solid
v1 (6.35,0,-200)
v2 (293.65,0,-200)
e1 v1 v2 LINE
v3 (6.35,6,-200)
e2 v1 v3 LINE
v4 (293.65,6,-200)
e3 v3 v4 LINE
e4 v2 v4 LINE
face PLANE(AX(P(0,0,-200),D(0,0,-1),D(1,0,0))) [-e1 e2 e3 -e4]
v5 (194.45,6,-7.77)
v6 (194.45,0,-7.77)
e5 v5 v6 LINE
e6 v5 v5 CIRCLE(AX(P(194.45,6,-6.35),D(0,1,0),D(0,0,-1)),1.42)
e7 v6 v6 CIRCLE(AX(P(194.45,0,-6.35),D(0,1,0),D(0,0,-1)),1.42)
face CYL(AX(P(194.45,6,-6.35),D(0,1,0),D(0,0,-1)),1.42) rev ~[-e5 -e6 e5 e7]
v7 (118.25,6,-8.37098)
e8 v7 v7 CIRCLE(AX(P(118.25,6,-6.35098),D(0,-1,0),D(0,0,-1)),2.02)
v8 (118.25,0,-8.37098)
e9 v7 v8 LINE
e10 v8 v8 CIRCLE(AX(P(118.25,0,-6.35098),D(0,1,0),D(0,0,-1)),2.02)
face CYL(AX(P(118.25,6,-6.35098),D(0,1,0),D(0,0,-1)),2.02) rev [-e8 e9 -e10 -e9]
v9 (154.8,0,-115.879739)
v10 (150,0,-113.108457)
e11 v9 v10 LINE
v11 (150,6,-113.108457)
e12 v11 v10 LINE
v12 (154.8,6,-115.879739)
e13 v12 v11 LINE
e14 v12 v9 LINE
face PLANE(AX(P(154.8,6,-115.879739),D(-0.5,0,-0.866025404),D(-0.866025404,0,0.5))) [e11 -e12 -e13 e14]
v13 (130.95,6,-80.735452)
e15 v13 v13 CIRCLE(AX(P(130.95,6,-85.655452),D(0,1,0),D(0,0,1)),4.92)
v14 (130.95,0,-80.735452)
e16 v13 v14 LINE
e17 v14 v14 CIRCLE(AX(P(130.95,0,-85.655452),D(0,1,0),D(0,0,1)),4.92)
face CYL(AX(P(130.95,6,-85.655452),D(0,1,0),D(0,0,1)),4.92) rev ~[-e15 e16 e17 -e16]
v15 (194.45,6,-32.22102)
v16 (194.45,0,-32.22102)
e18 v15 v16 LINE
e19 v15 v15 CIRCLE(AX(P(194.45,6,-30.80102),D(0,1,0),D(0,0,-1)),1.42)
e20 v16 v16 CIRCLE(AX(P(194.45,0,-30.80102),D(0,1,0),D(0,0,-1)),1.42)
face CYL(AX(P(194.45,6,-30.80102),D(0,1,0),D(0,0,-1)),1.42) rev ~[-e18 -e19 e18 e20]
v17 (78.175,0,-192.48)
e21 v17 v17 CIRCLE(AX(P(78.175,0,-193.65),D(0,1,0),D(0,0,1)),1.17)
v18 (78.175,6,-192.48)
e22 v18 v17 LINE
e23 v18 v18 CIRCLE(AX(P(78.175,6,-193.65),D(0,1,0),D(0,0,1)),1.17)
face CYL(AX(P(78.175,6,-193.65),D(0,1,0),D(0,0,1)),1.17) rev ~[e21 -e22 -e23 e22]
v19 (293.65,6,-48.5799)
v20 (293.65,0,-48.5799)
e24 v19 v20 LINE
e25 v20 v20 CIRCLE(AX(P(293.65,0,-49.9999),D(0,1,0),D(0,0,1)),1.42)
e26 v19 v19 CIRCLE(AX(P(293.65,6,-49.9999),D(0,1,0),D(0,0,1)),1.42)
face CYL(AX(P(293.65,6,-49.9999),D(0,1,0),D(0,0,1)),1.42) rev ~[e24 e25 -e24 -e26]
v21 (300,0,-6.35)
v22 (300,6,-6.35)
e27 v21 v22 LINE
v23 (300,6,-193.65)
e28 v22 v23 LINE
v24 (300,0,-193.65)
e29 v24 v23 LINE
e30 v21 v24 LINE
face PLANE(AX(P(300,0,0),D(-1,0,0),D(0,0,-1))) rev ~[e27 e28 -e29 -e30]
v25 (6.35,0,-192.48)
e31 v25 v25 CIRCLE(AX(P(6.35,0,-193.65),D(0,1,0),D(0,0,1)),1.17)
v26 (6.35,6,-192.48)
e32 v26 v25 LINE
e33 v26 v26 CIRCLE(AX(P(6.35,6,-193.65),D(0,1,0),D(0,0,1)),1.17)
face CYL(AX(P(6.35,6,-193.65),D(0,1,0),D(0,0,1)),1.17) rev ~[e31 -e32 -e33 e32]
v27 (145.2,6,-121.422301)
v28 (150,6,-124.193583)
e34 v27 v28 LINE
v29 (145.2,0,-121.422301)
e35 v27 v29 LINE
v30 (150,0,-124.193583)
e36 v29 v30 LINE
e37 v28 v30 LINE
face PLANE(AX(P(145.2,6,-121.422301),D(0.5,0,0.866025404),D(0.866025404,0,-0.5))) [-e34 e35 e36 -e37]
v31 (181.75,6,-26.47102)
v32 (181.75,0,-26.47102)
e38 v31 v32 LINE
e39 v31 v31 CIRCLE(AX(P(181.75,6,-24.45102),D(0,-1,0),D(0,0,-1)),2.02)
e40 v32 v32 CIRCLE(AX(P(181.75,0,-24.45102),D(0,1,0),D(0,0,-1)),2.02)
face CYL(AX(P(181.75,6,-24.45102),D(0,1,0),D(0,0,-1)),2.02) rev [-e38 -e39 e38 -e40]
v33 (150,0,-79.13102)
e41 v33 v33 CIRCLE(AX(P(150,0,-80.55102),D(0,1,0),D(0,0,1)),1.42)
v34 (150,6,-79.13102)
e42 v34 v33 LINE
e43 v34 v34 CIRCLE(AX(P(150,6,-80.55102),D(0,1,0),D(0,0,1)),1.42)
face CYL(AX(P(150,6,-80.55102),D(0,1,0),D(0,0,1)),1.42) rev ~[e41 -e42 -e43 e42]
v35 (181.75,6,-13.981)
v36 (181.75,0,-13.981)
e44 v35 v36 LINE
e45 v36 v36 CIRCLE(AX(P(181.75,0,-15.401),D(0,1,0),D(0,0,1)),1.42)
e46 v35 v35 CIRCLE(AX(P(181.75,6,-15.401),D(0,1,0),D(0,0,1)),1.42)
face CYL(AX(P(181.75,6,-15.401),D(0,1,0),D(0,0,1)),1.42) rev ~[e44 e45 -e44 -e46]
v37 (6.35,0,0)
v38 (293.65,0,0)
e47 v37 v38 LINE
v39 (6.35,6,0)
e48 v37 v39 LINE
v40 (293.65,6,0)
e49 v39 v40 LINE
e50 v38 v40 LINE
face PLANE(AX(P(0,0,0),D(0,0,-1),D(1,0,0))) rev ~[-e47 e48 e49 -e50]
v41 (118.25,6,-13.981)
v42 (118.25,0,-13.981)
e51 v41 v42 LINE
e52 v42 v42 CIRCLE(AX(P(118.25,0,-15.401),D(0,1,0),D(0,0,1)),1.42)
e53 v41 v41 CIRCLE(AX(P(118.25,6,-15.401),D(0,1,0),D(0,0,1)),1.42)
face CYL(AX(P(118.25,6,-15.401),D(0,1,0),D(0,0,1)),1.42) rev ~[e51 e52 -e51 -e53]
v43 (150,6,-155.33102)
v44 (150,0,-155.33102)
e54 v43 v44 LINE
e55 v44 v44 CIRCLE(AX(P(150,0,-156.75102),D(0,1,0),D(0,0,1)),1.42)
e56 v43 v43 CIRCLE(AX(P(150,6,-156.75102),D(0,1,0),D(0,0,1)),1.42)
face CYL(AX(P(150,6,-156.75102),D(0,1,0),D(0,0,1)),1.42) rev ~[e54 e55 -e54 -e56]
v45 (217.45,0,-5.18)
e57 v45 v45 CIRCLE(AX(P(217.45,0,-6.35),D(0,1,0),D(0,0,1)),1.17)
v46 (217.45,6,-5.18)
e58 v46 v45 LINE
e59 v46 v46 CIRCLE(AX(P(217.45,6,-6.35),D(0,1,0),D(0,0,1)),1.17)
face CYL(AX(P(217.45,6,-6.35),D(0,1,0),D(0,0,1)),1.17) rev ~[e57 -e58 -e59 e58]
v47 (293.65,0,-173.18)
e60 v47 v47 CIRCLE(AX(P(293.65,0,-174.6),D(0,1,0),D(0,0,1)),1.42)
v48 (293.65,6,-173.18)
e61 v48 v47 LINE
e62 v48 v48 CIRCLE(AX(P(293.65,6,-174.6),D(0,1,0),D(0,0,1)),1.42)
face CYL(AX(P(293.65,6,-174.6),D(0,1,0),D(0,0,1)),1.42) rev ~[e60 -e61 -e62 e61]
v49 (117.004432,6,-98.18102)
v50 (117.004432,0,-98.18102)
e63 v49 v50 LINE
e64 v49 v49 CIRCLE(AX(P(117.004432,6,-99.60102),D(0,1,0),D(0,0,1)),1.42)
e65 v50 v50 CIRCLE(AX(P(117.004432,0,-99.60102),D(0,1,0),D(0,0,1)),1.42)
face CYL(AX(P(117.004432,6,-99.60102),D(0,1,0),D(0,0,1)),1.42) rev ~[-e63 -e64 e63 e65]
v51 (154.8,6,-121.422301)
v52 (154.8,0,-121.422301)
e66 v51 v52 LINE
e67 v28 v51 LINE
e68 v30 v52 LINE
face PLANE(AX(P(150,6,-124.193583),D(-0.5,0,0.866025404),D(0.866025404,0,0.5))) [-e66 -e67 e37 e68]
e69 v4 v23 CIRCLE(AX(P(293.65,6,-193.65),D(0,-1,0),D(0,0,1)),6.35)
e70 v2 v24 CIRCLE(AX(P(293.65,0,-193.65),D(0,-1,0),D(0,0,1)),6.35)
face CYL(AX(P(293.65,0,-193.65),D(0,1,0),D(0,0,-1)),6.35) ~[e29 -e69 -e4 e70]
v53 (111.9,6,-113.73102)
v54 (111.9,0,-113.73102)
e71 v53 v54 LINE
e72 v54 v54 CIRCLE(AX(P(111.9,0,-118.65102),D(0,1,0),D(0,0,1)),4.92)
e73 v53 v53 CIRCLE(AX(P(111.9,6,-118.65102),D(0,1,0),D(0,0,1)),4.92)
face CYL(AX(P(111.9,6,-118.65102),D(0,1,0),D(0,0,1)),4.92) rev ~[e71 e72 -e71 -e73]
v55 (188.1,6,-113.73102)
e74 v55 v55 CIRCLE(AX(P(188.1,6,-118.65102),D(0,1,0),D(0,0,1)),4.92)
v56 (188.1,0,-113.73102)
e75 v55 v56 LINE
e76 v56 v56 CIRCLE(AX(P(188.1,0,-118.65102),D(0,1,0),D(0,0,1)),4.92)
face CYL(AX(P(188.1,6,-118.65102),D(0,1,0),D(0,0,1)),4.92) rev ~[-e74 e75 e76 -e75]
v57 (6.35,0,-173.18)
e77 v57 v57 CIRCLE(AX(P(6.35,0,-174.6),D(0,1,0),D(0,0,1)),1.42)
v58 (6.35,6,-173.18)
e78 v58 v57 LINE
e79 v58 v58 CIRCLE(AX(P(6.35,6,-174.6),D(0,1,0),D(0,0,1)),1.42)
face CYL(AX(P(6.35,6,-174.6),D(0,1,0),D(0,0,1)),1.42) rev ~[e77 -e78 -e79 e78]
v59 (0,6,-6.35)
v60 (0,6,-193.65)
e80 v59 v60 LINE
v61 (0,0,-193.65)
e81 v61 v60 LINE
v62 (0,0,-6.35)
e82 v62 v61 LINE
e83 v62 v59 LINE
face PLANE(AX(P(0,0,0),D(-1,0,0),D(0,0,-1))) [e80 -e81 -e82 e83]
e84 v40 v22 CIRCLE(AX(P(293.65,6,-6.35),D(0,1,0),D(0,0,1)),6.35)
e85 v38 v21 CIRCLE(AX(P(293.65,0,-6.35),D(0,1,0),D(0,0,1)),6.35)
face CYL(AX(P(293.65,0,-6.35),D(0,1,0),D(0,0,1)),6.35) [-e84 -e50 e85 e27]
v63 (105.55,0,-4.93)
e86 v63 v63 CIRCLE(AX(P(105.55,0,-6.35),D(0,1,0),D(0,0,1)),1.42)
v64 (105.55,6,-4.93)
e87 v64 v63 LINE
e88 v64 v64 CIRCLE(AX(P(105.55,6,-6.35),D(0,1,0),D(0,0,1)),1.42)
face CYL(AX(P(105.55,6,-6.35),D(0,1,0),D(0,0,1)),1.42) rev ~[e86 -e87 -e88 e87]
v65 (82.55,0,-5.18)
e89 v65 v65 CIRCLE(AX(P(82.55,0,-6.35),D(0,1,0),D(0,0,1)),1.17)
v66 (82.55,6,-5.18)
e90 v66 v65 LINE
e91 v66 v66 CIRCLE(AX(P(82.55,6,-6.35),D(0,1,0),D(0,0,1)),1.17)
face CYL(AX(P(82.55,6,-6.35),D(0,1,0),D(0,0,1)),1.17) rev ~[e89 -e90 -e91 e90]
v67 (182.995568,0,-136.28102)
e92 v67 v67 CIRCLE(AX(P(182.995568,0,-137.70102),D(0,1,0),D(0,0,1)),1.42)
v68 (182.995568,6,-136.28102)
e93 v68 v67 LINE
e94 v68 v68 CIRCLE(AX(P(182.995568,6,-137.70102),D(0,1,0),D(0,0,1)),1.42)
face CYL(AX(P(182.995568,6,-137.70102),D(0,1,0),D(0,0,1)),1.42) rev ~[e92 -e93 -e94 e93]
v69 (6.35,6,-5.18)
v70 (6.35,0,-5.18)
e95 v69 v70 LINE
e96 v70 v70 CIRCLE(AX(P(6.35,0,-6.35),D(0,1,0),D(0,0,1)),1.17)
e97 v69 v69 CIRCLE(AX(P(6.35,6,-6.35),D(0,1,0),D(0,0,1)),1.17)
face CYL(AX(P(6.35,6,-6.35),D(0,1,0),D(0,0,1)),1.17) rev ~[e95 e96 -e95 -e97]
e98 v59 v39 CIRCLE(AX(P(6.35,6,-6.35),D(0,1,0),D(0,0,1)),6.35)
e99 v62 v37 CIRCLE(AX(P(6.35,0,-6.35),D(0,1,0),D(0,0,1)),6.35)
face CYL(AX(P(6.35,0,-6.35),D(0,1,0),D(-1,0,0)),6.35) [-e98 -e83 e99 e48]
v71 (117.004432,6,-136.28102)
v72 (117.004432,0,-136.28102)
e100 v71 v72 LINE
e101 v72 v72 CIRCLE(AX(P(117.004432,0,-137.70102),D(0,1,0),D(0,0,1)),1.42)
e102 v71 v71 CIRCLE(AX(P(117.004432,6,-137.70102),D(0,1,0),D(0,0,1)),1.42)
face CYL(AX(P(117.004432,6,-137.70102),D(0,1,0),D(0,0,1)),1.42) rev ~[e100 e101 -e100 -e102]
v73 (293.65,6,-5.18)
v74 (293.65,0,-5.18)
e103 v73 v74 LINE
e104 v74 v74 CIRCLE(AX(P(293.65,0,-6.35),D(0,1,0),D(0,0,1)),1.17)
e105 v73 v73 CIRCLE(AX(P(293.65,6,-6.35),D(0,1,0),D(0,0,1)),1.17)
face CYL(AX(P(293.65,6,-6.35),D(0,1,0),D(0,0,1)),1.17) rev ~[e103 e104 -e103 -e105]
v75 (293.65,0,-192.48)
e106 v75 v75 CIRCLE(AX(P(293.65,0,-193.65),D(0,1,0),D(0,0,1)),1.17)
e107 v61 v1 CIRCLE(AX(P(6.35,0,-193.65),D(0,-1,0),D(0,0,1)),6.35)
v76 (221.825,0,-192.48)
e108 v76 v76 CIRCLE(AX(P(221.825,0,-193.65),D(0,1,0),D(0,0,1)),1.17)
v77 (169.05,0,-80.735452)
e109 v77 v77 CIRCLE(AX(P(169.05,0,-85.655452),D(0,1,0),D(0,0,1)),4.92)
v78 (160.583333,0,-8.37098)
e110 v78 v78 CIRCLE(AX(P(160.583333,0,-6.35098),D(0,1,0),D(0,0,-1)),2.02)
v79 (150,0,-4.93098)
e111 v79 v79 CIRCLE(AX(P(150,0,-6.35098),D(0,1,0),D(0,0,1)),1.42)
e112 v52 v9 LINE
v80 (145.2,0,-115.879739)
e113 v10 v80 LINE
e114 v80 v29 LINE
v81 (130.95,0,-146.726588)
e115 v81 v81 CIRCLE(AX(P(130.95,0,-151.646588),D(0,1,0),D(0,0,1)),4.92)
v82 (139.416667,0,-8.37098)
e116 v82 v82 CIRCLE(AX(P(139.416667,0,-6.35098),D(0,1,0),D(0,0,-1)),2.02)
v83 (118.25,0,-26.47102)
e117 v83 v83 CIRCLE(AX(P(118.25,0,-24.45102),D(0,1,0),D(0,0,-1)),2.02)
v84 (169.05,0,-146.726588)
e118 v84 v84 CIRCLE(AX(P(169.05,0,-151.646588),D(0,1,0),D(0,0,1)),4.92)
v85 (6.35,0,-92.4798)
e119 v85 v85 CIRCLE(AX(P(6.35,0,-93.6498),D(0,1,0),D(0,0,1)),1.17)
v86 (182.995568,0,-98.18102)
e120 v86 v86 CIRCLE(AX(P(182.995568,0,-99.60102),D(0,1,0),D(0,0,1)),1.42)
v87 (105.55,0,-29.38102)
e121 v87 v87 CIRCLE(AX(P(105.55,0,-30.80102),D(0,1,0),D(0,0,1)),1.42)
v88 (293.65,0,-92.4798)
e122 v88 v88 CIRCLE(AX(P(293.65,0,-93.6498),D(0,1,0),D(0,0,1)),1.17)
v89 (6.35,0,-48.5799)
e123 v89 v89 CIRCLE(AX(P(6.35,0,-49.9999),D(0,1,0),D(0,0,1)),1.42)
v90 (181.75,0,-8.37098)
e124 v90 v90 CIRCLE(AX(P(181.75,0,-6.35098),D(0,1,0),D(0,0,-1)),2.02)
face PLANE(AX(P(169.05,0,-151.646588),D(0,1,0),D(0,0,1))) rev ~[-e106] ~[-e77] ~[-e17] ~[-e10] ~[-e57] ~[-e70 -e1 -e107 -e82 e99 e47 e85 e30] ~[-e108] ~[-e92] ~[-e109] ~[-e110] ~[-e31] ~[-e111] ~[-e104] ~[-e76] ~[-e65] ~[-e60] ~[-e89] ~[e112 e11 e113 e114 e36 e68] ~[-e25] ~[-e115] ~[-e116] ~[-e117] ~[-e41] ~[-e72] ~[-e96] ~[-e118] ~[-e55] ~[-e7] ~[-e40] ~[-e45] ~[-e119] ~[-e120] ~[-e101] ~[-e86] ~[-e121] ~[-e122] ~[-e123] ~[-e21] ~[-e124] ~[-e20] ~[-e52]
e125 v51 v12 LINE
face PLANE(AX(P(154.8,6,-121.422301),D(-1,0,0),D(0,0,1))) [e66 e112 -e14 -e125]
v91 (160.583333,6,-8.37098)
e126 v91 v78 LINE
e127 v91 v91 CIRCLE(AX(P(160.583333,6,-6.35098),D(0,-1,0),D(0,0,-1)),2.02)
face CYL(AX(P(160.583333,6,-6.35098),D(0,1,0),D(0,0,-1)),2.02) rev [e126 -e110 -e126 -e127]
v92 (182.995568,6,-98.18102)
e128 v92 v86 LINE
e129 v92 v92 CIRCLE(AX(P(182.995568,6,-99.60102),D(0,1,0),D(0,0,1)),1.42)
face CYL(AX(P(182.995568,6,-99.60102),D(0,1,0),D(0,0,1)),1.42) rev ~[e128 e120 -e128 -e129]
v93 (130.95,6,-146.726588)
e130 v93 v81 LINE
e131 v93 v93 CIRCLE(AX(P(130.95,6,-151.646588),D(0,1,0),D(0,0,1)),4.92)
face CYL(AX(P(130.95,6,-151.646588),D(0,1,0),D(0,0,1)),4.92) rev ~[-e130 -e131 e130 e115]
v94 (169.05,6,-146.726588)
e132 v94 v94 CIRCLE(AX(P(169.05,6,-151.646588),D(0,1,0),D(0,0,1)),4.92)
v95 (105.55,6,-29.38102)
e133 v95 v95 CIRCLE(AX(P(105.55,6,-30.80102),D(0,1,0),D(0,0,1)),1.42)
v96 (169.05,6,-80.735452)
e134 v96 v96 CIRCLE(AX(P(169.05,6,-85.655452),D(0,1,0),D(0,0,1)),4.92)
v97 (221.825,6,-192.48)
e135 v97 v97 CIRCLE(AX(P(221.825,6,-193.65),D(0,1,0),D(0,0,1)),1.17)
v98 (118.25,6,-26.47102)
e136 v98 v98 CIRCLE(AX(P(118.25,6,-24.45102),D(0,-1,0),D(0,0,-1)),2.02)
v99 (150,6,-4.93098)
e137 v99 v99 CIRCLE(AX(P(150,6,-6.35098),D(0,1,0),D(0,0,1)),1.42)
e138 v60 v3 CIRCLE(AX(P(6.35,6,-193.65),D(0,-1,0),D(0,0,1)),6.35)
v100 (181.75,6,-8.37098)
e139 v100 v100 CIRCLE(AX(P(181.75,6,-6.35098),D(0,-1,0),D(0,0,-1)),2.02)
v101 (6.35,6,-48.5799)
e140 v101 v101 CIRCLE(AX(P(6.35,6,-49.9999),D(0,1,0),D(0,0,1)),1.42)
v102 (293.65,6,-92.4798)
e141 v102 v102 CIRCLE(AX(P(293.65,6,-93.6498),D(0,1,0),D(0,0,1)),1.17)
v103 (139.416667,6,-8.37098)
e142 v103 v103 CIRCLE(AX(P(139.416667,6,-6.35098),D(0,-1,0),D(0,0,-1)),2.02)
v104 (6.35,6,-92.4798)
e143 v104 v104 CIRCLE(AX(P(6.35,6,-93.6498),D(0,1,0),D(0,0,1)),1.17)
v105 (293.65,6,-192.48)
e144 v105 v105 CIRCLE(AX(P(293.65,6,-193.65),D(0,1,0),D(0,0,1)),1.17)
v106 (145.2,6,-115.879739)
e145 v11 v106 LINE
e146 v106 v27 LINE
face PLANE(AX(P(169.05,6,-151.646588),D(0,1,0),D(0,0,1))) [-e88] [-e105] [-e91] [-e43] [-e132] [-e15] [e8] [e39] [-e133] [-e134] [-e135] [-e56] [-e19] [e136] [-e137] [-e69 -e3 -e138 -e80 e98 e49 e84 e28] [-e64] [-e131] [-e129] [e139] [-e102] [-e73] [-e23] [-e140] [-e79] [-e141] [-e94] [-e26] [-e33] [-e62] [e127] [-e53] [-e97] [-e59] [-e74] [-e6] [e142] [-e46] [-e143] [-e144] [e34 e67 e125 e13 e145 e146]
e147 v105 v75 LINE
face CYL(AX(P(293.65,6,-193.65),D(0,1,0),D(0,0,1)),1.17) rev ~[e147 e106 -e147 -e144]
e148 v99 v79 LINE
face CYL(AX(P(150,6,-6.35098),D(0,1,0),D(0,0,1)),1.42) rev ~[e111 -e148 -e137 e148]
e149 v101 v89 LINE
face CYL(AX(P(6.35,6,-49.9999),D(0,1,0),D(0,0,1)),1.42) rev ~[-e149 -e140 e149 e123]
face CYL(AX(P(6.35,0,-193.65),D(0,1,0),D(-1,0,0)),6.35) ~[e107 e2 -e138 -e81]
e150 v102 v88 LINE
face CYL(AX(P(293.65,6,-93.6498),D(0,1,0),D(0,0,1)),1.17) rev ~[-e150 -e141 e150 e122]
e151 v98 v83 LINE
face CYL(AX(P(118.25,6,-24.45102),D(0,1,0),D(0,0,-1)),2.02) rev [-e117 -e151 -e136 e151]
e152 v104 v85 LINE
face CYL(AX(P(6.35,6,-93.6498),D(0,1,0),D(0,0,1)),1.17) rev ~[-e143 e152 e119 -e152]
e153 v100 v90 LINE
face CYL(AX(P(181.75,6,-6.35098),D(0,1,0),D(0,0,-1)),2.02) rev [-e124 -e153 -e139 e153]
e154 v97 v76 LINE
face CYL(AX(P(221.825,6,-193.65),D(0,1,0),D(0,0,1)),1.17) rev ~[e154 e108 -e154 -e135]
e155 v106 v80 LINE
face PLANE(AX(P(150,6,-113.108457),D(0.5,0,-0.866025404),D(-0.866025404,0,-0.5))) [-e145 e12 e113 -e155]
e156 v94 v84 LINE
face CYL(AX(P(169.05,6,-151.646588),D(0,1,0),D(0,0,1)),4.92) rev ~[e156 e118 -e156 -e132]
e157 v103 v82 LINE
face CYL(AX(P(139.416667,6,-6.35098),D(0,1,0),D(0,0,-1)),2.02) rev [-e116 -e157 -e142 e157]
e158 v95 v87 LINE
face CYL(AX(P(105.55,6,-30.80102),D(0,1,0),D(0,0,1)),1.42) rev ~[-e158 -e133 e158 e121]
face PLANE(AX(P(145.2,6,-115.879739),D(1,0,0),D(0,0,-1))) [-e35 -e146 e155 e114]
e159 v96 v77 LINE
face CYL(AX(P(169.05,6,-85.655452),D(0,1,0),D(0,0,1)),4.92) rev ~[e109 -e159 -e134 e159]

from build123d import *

# Parameters (mm, degrees)
SKETCH1_W            = 300
SKETCH1_H            = 200
BOSS_EXTRUDE1_DEPTH  = 6
SKETCH6_R            = 2.5
CUT_EXTRUDE2_DEPTH   = 361.605047108
FILLET1_R            = 6.35
SKETCH2_R            = 1.5
CUT_EXTRUDE1_DEPTH   = 361.605047108
SKETCH13_R           = 1.25
M3_TAP_DEPTH         = 364.853871767
SKETCH16_R           = 2.1
M5_TAP2_DEPTH        = 358.420816406
SKETCH9_R            = 1.5
CUT_EXTRUDE3_DEPTH   = 361.605047108
SKETCH10_R           = 1.5
CUT_EXTRUDE5_DEPTH   = 361.605047108
SKETCH17_R           = 5
M3_COUNTERBORE_DEPTH = 361.605047108
CUT_EXTRUDE6_DEPTH   = 361.605047108
MOVE_FACE1_BY        = 0.08
MOVE_FACE1_2_BY      = 0.08
MOVE_FACE1_3_BY      = 0.08
MOVE_FACE1_4_BY      = 0.08
MOVE_FACE1_5_BY      = 0.08
MOVE_FACE1_6_BY      = 0.08
MOVE_FACE1_7_BY      = 0.08
MOVE_FACE1_8_BY      = 0.08
MOVE_FACE1_9_BY      = 0.08
MOVE_FACE1_10_BY     = 0.08
MOVE_FACE1_11_BY     = 0.08
MOVE_FACE1_12_BY     = 0.08
MOVE_FACE1_13_BY     = 0.08
MOVE_FACE1_14_BY     = 0.08
MOVE_FACE1_15_BY     = 0.08
MOVE_FACE1_16_BY     = 0.08
MOVE_FACE1_17_BY     = 0.08
MOVE_FACE1_18_BY     = 0.08
MOVE_FACE1_19_BY     = 0.08
MOVE_FACE1_20_BY     = 0.08
MOVE_FACE1_21_BY     = 0.08
MOVE_FACE1_22_BY     = 0.08
MOVE_FACE1_23_BY     = 0.08
MOVE_FACE1_24_BY     = 0.08
MOVE_FACE1_25_BY     = 0.08
MOVE_FACE1_26_BY     = 0.08
MOVE_FACE1_27_BY     = 0.08
MOVE_FACE1_28_BY     = 0.08
MOVE_FACE1_29_BY     = 0.08
MOVE_FACE1_30_BY     = 0.08
MOVE_FACE1_31_BY     = 0.08
MOVE_FACE1_32_BY     = 0.08
MOVE_FACE1_33_BY     = 0.08
MOVE_FACE1_34_BY     = 0.08
MOVE_FACE1_35_BY     = 0.08
MOVE_FACE1_36_BY     = 0.08
MOVE_FACE1_37_BY     = 0.08
MOVE_FACE1_38_BY     = 0.08
MOVE_FACE1_39_BY     = 0.08


with BuildPart() as part:
    # Sketch1 → Boss-Extrude1 (new body)
    with BuildSketch(Plane(origin=(0, 0, 0), x_dir=(1, 0, 0), z_dir=(0, 1, 0))):
        with Locations((150, 100)):
            Rectangle(SKETCH1_W, SKETCH1_H)
    extrude(amount=BOSS_EXTRUDE1_DEPTH)

    # Sketch6 → Cut-Extrude2 (cut, through all)
    with BuildSketch(Plane(origin=(0, 6, 0), x_dir=(1, 0, 0), z_dir=(0, 1, 0))):
        with Locations(Location((150, 118.65102, 0), (0, 0, 270))):
            Circle(SKETCH6_R)
    extrude(amount=-CUT_EXTRUDE2_DEPTH, mode=Mode.SUBTRACT)

    # Fillet1
    fillet1_edges = [part.edges().sort_by_distance(p)[0] for p in [
        (0, 3, -200),
        (300, 3, -200),
        (300, 3, 0),
        (0, 3, 0),
    ]]
    fillet(fillet1_edges, radius=FILLET1_R)

    # Sketch2 → Cut-Extrude1 (cut, through all)
    with BuildSketch(Plane(origin=(0, 6, 0), x_dir=(1, 0, 0), z_dir=(0, 1, 0))):
        with Locations(Location((6.35, 174.6, 0), (0, 0, 270))):
            Circle(SKETCH2_R)
        with Locations(Location((6.35, 49.9999, 0), (0, 0, 270))):
            Circle(SKETCH2_R)
        with Locations(Location((293.65, 49.9999, 0), (0, 0, 270))):
            Circle(SKETCH2_R)
        with Locations(Location((293.65, 174.6, 0), (0, 0, 270))):
            Circle(SKETCH2_R)
    extrude(amount=-CUT_EXTRUDE1_DEPTH, mode=Mode.SUBTRACT)

    # Sketch13 → M3-tap (cut, through all)
    with BuildSketch(Plane(origin=(0, 6, 5.8), x_dir=(1, 0, 0), z_dir=(0, 1, 0))):
        with Locations(Location((6.35, 199.45, 0), (0, 0, 270))):
            Circle(SKETCH13_R)
        with Locations(Location((78.175, 199.45, 0), (0, 0, 270))):
            Circle(SKETCH13_R)
        with Locations(Location((221.825, 199.45, 0), (0, 0, 270))):
            Circle(SKETCH13_R)
        with Locations(Location((293.65, 199.45, 0), (0, 0, 270))):
            Circle(SKETCH13_R)
        with Locations(Location((293.65, 99.4498, 0), (0, 0, 270))):
            Circle(SKETCH13_R)
        with Locations(Location((293.65, 12.15, 0), (0, 0, 270))):
            Circle(SKETCH13_R)
        with Locations(Location((217.45, 12.15, 0), (0, 0, 270))):
            Circle(SKETCH13_R)
        with Locations(Location((82.55, 12.15, 0), (0, 0, 270))):
            Circle(SKETCH13_R)
        with Locations(Location((6.35, 12.15, 0), (0, 0, 270))):
            Circle(SKETCH13_R)
        with Locations(Location((6.35, 99.4498, 0), (0, 0, 270))):
            Circle(SKETCH13_R)
    extrude(amount=-M3_TAP_DEPTH, mode=Mode.SUBTRACT)

    # Sketch16 → M5-tap2 (cut, through all)
    with BuildSketch(Plane(origin=(0, 6, -5.8), x_dir=(1, 0, 0), z_dir=(0, -1, 0))):
        with Locations(Location((118.25, -18.65102, 0), (0, 0, 270))):
            Circle(SKETCH16_R)
        with Locations(Location((118.25, -0.55098, 0), (0, 0, 270))):
            Circle(SKETCH16_R)
        with Locations(Location((139.416666667, -0.55098, 0), (0, 0, 270))):
            Circle(SKETCH16_R)
        with Locations(Location((160.583333333, -0.55098, 0), (0, 0, 270))):
            Circle(SKETCH16_R)
        with Locations(Location((181.75, -0.55098, 0), (0, 0, 270))):
            Circle(SKETCH16_R)
        with Locations(Location((181.75, -18.65102, 0), (0, 0, 270))):
            Circle(SKETCH16_R)
    extrude(amount=M5_TAP2_DEPTH, mode=Mode.SUBTRACT)

    # Sketch9 → Cut-Extrude3 (cut, through all)
    with BuildSketch(Plane(origin=(0, 6, 0), x_dir=(-1, 0, 0), z_dir=(0, 1, 0))):
        with Locations(Location((-118.25, -15.401, 0), (0, 0, 90))):
            Circle(SKETCH9_R)
        with Locations(Location((-150, -6.35098, 0), (0, 0, 90))):
            Circle(SKETCH9_R)
        with Locations(Location((-181.75, -15.401, 0), (0, 0, 90))):
            Circle(SKETCH9_R)
    extrude(amount=-CUT_EXTRUDE3_DEPTH, mode=Mode.SUBTRACT)

    # Sketch10 → Cut-Extrude5 (cut, through all)
    with BuildSketch(Plane(origin=(0, 6, 0), x_dir=(1, 0, 0), z_dir=(0, 1, 0))):
        with Locations(Location((150, 156.75102, 0), (0, 0, 270))):
            Circle(SKETCH10_R)
        with Locations(Location((182.995567884, 137.70102, 0), (0, 0, 270))):
            Circle(SKETCH10_R)
        with Locations(Location((182.995567884, 99.60102, 0), (0, 0, 270))):
            Circle(SKETCH10_R)
        with Locations(Location((150, 80.55102, 0), (0, 0, 270))):
            Circle(SKETCH10_R)
        with Locations(Location((117.004432116, 99.60102, 0), (0, 0, 270))):
            Circle(SKETCH10_R)
        with Locations(Location((117.004432116, 137.70102, 0), (0, 0, 270))):
            Circle(SKETCH10_R)
        with Locations(Location((105.55, 30.80102, 0), (0, 0, 270))):
            Circle(SKETCH10_R)
        with Locations(Location((105.55, 6.35, 0), (0, 0, 270))):
            Circle(SKETCH10_R)
        with Locations(Location((194.45, 6.35, 0), (0, 0, 90))):
            Circle(SKETCH10_R)
        with Locations(Location((194.45, 30.80102, 0), (0, 0, 90))):
            Circle(SKETCH10_R)
    extrude(amount=-CUT_EXTRUDE5_DEPTH, mode=Mode.SUBTRACT)

    # Sketch17 → M3_counterbore (cut, through all)
    with BuildSketch(Plane(origin=(0, 6, 0), x_dir=(1, 0, 0), z_dir=(0, 1, 0))):
        with Locations(Location((188.1, 118.65102, 0), (0, 0, 270))):
            Circle(SKETCH17_R)
        with Locations(Location((169.05, 85.655452116, 0), (0, 0, 270))):
            Circle(SKETCH17_R)
        with Locations(Location((130.95, 85.655452116, 0), (0, 0, 270))):
            Circle(SKETCH17_R)
        with Locations(Location((111.9, 118.65102, 0), (0, 0, 270))):
            Circle(SKETCH17_R)
        with Locations(Location((130.95, 151.646587884, 0), (0, 0, 270))):
            Circle(SKETCH17_R)
        with Locations(Location((169.05, 151.646587884, 0), (0, 0, 270))):
            Circle(SKETCH17_R)
    extrude(amount=-M3_COUNTERBORE_DEPTH, mode=Mode.SUBTRACT)

    # Sketch18 → Cut-Extrude6 (cut, through all)
    with BuildSketch(Plane(origin=(0, 6, 0), x_dir=(1, 0, 0), z_dir=(0, 1, 0))):
        Polygon((154.8, 121.422301292), (154.8, 115.879738708), (150, 113.108457416), (145.2, 115.879738708), (145.2, 121.422301292), (150, 124.193582584), align=None)
    extrude(amount=-CUT_EXTRUDE6_DEPTH, mode=Mode.SUBTRACT)

    # Move Face1: a curved face moved outward by 0.08
    add(Solid.thicken(part.faces().sort_by_distance((111.9, 3, -123.65102))[0], MOVE_FACE1_BY))

    # Move Face1 2: a curved face moved outward by 0.08
    add(Solid.thicken(part.faces().sort_by_distance((6.35, 3, -176.1))[0], MOVE_FACE1_2_BY))

    # Move Face1 3: a curved face moved outward by 0.08
    add(Solid.thicken(part.faces().sort_by_distance((6.35, 3, -51.4999))[0], MOVE_FACE1_3_BY))

    # Move Face1 4: a curved face moved outward by 0.08
    add(Solid.thicken(part.faces().sort_by_distance((293.65, 3, -51.4999))[0], MOVE_FACE1_4_BY))

    # Move Face1 5: a curved face moved outward by 0.08
    add(Solid.thicken(part.faces().sort_by_distance((293.65, 3, -176.1))[0], MOVE_FACE1_5_BY))

    # Move Face1 6: a curved face moved outward by 0.08
    add(Solid.thicken(part.faces().sort_by_distance((6.35, 3, -194.9))[0], MOVE_FACE1_6_BY))

    # Move Face1 7: a curved face moved outward by 0.08
    add(Solid.thicken(part.faces().sort_by_distance((78.175, 3, -194.9))[0], MOVE_FACE1_7_BY))

    # Move Face1 8: a curved face moved outward by 0.08
    add(Solid.thicken(part.faces().sort_by_distance((221.825, 3, -194.9))[0], MOVE_FACE1_8_BY))

    # Move Face1 9: a curved face moved outward by 0.08
    add(Solid.thicken(part.faces().sort_by_distance((293.65, 3, -194.9))[0], MOVE_FACE1_9_BY))

    # Move Face1 10: a curved face moved outward by 0.08
    add(Solid.thicken(part.faces().sort_by_distance((293.65, 3, -94.8998))[0], MOVE_FACE1_10_BY))

    # Move Face1 11: a curved face moved outward by 0.08
    add(Solid.thicken(part.faces().sort_by_distance((293.65, 3, -7.6))[0], MOVE_FACE1_11_BY))

    # Move Face1 12: a curved face moved outward by 0.08
    add(Solid.thicken(part.faces().sort_by_distance((217.45, 3, -7.6))[0], MOVE_FACE1_12_BY))

    # Move Face1 13: a curved face moved outward by 0.08
    add(Solid.thicken(part.faces().sort_by_distance((82.55, 3, -7.6))[0], MOVE_FACE1_13_BY))

    # Move Face1 14: a curved face moved outward by 0.08
    add(Solid.thicken(part.faces().sort_by_distance((6.35, 3, -7.6))[0], MOVE_FACE1_14_BY))

    # Move Face1 15: a curved face moved outward by 0.08
    add(Solid.thicken(part.faces().sort_by_distance((6.35, 3, -94.8998))[0], MOVE_FACE1_15_BY))

    # Move Face1 16: a curved face moved outward by 0.08
    add(Solid.thicken(part.faces().sort_by_distance((118.25, 3, -22.35102))[0], MOVE_FACE1_16_BY))

    # Move Face1 17: a curved face moved outward by 0.08
    add(Solid.thicken(part.faces().sort_by_distance((118.25, 3, -4.25098))[0], MOVE_FACE1_17_BY))

    # Move Face1 18: a curved face moved outward by 0.08
    add(Solid.thicken(part.faces().sort_by_distance((139.416666667, 3, -4.25098))[0], MOVE_FACE1_18_BY))

    # Move Face1 19: a curved face moved outward by 0.08
    add(Solid.thicken(part.faces().sort_by_distance((160.583333333, 3, -4.25098))[0], MOVE_FACE1_19_BY))

    # Move Face1 20: a curved face moved outward by 0.08
    add(Solid.thicken(part.faces().sort_by_distance((181.75, 3, -4.25098))[0], MOVE_FACE1_20_BY))

    # Move Face1 21: a curved face moved outward by 0.08
    add(Solid.thicken(part.faces().sort_by_distance((181.75, 3, -22.35102))[0], MOVE_FACE1_21_BY))

    # Move Face1 22: a curved face moved outward by 0.08
    add(Solid.thicken(part.faces().sort_by_distance((118.25, 3, -16.901))[0], MOVE_FACE1_22_BY))

    # Move Face1 23: a curved face moved outward by 0.08
    add(Solid.thicken(part.faces().sort_by_distance((150, 3, -7.85098))[0], MOVE_FACE1_23_BY))

    # Move Face1 24: a curved face moved outward by 0.08
    add(Solid.thicken(part.faces().sort_by_distance((181.75, 3, -16.901))[0], MOVE_FACE1_24_BY))

    # Move Face1 25: a curved face moved outward by 0.08
    add(Solid.thicken(part.faces().sort_by_distance((150, 3, -158.25102))[0], MOVE_FACE1_25_BY))

    # Move Face1 26: a curved face moved outward by 0.08
    add(Solid.thicken(part.faces().sort_by_distance((182.995567884, 3, -139.20102))[0], MOVE_FACE1_26_BY))

    # Move Face1 27: a curved face moved outward by 0.08
    add(Solid.thicken(part.faces().sort_by_distance((182.995567884, 3, -101.10102))[0], MOVE_FACE1_27_BY))

    # Move Face1 28: a curved face moved outward by 0.08
    add(Solid.thicken(part.faces().sort_by_distance((150, 3, -82.05102))[0], MOVE_FACE1_28_BY))

    # Move Face1 29: a curved face moved outward by 0.08
    add(Solid.thicken(part.faces().sort_by_distance((117.004432116, 3, -101.10102))[0], MOVE_FACE1_29_BY))

    # Move Face1 30: a curved face moved outward by 0.08
    add(Solid.thicken(part.faces().sort_by_distance((117.004432116, 3, -139.20102))[0], MOVE_FACE1_30_BY))

    # Move Face1 31: a curved face moved outward by 0.08
    add(Solid.thicken(part.faces().sort_by_distance((105.55, 3, -32.30102))[0], MOVE_FACE1_31_BY))

    # Move Face1 32: a curved face moved outward by 0.08
    add(Solid.thicken(part.faces().sort_by_distance((105.55, 3, -7.85))[0], MOVE_FACE1_32_BY))

    # Move Face1 33: a curved face moved outward by 0.08
    add(Solid.thicken(part.faces().sort_by_distance((194.45, 3, -4.85))[0], MOVE_FACE1_33_BY))

    # Move Face1 34: a curved face moved outward by 0.08
    add(Solid.thicken(part.faces().sort_by_distance((194.45, 3, -29.30102))[0], MOVE_FACE1_34_BY))

    # Move Face1 35: a curved face moved outward by 0.08
    add(Solid.thicken(part.faces().sort_by_distance((188.1, 3, -123.65102))[0], MOVE_FACE1_35_BY))

    # Move Face1 36: a curved face moved outward by 0.08
    add(Solid.thicken(part.faces().sort_by_distance((169.05, 3, -90.655452116))[0], MOVE_FACE1_36_BY))

    # Move Face1 37: a curved face moved outward by 0.08
    add(Solid.thicken(part.faces().sort_by_distance((130.95, 3, -90.655452116))[0], MOVE_FACE1_37_BY))

    # Move Face1 38: a curved face moved outward by 0.08
    add(Solid.thicken(part.faces().sort_by_distance((130.95, 3, -156.646587884))[0], MOVE_FACE1_38_BY))

    # Move Face1 39: a curved face moved outward by 0.08
    add(Solid.thicken(part.faces().sort_by_distance((169.05, 3, -156.646587884))[0], MOVE_FACE1_39_BY))


solid = part.part
